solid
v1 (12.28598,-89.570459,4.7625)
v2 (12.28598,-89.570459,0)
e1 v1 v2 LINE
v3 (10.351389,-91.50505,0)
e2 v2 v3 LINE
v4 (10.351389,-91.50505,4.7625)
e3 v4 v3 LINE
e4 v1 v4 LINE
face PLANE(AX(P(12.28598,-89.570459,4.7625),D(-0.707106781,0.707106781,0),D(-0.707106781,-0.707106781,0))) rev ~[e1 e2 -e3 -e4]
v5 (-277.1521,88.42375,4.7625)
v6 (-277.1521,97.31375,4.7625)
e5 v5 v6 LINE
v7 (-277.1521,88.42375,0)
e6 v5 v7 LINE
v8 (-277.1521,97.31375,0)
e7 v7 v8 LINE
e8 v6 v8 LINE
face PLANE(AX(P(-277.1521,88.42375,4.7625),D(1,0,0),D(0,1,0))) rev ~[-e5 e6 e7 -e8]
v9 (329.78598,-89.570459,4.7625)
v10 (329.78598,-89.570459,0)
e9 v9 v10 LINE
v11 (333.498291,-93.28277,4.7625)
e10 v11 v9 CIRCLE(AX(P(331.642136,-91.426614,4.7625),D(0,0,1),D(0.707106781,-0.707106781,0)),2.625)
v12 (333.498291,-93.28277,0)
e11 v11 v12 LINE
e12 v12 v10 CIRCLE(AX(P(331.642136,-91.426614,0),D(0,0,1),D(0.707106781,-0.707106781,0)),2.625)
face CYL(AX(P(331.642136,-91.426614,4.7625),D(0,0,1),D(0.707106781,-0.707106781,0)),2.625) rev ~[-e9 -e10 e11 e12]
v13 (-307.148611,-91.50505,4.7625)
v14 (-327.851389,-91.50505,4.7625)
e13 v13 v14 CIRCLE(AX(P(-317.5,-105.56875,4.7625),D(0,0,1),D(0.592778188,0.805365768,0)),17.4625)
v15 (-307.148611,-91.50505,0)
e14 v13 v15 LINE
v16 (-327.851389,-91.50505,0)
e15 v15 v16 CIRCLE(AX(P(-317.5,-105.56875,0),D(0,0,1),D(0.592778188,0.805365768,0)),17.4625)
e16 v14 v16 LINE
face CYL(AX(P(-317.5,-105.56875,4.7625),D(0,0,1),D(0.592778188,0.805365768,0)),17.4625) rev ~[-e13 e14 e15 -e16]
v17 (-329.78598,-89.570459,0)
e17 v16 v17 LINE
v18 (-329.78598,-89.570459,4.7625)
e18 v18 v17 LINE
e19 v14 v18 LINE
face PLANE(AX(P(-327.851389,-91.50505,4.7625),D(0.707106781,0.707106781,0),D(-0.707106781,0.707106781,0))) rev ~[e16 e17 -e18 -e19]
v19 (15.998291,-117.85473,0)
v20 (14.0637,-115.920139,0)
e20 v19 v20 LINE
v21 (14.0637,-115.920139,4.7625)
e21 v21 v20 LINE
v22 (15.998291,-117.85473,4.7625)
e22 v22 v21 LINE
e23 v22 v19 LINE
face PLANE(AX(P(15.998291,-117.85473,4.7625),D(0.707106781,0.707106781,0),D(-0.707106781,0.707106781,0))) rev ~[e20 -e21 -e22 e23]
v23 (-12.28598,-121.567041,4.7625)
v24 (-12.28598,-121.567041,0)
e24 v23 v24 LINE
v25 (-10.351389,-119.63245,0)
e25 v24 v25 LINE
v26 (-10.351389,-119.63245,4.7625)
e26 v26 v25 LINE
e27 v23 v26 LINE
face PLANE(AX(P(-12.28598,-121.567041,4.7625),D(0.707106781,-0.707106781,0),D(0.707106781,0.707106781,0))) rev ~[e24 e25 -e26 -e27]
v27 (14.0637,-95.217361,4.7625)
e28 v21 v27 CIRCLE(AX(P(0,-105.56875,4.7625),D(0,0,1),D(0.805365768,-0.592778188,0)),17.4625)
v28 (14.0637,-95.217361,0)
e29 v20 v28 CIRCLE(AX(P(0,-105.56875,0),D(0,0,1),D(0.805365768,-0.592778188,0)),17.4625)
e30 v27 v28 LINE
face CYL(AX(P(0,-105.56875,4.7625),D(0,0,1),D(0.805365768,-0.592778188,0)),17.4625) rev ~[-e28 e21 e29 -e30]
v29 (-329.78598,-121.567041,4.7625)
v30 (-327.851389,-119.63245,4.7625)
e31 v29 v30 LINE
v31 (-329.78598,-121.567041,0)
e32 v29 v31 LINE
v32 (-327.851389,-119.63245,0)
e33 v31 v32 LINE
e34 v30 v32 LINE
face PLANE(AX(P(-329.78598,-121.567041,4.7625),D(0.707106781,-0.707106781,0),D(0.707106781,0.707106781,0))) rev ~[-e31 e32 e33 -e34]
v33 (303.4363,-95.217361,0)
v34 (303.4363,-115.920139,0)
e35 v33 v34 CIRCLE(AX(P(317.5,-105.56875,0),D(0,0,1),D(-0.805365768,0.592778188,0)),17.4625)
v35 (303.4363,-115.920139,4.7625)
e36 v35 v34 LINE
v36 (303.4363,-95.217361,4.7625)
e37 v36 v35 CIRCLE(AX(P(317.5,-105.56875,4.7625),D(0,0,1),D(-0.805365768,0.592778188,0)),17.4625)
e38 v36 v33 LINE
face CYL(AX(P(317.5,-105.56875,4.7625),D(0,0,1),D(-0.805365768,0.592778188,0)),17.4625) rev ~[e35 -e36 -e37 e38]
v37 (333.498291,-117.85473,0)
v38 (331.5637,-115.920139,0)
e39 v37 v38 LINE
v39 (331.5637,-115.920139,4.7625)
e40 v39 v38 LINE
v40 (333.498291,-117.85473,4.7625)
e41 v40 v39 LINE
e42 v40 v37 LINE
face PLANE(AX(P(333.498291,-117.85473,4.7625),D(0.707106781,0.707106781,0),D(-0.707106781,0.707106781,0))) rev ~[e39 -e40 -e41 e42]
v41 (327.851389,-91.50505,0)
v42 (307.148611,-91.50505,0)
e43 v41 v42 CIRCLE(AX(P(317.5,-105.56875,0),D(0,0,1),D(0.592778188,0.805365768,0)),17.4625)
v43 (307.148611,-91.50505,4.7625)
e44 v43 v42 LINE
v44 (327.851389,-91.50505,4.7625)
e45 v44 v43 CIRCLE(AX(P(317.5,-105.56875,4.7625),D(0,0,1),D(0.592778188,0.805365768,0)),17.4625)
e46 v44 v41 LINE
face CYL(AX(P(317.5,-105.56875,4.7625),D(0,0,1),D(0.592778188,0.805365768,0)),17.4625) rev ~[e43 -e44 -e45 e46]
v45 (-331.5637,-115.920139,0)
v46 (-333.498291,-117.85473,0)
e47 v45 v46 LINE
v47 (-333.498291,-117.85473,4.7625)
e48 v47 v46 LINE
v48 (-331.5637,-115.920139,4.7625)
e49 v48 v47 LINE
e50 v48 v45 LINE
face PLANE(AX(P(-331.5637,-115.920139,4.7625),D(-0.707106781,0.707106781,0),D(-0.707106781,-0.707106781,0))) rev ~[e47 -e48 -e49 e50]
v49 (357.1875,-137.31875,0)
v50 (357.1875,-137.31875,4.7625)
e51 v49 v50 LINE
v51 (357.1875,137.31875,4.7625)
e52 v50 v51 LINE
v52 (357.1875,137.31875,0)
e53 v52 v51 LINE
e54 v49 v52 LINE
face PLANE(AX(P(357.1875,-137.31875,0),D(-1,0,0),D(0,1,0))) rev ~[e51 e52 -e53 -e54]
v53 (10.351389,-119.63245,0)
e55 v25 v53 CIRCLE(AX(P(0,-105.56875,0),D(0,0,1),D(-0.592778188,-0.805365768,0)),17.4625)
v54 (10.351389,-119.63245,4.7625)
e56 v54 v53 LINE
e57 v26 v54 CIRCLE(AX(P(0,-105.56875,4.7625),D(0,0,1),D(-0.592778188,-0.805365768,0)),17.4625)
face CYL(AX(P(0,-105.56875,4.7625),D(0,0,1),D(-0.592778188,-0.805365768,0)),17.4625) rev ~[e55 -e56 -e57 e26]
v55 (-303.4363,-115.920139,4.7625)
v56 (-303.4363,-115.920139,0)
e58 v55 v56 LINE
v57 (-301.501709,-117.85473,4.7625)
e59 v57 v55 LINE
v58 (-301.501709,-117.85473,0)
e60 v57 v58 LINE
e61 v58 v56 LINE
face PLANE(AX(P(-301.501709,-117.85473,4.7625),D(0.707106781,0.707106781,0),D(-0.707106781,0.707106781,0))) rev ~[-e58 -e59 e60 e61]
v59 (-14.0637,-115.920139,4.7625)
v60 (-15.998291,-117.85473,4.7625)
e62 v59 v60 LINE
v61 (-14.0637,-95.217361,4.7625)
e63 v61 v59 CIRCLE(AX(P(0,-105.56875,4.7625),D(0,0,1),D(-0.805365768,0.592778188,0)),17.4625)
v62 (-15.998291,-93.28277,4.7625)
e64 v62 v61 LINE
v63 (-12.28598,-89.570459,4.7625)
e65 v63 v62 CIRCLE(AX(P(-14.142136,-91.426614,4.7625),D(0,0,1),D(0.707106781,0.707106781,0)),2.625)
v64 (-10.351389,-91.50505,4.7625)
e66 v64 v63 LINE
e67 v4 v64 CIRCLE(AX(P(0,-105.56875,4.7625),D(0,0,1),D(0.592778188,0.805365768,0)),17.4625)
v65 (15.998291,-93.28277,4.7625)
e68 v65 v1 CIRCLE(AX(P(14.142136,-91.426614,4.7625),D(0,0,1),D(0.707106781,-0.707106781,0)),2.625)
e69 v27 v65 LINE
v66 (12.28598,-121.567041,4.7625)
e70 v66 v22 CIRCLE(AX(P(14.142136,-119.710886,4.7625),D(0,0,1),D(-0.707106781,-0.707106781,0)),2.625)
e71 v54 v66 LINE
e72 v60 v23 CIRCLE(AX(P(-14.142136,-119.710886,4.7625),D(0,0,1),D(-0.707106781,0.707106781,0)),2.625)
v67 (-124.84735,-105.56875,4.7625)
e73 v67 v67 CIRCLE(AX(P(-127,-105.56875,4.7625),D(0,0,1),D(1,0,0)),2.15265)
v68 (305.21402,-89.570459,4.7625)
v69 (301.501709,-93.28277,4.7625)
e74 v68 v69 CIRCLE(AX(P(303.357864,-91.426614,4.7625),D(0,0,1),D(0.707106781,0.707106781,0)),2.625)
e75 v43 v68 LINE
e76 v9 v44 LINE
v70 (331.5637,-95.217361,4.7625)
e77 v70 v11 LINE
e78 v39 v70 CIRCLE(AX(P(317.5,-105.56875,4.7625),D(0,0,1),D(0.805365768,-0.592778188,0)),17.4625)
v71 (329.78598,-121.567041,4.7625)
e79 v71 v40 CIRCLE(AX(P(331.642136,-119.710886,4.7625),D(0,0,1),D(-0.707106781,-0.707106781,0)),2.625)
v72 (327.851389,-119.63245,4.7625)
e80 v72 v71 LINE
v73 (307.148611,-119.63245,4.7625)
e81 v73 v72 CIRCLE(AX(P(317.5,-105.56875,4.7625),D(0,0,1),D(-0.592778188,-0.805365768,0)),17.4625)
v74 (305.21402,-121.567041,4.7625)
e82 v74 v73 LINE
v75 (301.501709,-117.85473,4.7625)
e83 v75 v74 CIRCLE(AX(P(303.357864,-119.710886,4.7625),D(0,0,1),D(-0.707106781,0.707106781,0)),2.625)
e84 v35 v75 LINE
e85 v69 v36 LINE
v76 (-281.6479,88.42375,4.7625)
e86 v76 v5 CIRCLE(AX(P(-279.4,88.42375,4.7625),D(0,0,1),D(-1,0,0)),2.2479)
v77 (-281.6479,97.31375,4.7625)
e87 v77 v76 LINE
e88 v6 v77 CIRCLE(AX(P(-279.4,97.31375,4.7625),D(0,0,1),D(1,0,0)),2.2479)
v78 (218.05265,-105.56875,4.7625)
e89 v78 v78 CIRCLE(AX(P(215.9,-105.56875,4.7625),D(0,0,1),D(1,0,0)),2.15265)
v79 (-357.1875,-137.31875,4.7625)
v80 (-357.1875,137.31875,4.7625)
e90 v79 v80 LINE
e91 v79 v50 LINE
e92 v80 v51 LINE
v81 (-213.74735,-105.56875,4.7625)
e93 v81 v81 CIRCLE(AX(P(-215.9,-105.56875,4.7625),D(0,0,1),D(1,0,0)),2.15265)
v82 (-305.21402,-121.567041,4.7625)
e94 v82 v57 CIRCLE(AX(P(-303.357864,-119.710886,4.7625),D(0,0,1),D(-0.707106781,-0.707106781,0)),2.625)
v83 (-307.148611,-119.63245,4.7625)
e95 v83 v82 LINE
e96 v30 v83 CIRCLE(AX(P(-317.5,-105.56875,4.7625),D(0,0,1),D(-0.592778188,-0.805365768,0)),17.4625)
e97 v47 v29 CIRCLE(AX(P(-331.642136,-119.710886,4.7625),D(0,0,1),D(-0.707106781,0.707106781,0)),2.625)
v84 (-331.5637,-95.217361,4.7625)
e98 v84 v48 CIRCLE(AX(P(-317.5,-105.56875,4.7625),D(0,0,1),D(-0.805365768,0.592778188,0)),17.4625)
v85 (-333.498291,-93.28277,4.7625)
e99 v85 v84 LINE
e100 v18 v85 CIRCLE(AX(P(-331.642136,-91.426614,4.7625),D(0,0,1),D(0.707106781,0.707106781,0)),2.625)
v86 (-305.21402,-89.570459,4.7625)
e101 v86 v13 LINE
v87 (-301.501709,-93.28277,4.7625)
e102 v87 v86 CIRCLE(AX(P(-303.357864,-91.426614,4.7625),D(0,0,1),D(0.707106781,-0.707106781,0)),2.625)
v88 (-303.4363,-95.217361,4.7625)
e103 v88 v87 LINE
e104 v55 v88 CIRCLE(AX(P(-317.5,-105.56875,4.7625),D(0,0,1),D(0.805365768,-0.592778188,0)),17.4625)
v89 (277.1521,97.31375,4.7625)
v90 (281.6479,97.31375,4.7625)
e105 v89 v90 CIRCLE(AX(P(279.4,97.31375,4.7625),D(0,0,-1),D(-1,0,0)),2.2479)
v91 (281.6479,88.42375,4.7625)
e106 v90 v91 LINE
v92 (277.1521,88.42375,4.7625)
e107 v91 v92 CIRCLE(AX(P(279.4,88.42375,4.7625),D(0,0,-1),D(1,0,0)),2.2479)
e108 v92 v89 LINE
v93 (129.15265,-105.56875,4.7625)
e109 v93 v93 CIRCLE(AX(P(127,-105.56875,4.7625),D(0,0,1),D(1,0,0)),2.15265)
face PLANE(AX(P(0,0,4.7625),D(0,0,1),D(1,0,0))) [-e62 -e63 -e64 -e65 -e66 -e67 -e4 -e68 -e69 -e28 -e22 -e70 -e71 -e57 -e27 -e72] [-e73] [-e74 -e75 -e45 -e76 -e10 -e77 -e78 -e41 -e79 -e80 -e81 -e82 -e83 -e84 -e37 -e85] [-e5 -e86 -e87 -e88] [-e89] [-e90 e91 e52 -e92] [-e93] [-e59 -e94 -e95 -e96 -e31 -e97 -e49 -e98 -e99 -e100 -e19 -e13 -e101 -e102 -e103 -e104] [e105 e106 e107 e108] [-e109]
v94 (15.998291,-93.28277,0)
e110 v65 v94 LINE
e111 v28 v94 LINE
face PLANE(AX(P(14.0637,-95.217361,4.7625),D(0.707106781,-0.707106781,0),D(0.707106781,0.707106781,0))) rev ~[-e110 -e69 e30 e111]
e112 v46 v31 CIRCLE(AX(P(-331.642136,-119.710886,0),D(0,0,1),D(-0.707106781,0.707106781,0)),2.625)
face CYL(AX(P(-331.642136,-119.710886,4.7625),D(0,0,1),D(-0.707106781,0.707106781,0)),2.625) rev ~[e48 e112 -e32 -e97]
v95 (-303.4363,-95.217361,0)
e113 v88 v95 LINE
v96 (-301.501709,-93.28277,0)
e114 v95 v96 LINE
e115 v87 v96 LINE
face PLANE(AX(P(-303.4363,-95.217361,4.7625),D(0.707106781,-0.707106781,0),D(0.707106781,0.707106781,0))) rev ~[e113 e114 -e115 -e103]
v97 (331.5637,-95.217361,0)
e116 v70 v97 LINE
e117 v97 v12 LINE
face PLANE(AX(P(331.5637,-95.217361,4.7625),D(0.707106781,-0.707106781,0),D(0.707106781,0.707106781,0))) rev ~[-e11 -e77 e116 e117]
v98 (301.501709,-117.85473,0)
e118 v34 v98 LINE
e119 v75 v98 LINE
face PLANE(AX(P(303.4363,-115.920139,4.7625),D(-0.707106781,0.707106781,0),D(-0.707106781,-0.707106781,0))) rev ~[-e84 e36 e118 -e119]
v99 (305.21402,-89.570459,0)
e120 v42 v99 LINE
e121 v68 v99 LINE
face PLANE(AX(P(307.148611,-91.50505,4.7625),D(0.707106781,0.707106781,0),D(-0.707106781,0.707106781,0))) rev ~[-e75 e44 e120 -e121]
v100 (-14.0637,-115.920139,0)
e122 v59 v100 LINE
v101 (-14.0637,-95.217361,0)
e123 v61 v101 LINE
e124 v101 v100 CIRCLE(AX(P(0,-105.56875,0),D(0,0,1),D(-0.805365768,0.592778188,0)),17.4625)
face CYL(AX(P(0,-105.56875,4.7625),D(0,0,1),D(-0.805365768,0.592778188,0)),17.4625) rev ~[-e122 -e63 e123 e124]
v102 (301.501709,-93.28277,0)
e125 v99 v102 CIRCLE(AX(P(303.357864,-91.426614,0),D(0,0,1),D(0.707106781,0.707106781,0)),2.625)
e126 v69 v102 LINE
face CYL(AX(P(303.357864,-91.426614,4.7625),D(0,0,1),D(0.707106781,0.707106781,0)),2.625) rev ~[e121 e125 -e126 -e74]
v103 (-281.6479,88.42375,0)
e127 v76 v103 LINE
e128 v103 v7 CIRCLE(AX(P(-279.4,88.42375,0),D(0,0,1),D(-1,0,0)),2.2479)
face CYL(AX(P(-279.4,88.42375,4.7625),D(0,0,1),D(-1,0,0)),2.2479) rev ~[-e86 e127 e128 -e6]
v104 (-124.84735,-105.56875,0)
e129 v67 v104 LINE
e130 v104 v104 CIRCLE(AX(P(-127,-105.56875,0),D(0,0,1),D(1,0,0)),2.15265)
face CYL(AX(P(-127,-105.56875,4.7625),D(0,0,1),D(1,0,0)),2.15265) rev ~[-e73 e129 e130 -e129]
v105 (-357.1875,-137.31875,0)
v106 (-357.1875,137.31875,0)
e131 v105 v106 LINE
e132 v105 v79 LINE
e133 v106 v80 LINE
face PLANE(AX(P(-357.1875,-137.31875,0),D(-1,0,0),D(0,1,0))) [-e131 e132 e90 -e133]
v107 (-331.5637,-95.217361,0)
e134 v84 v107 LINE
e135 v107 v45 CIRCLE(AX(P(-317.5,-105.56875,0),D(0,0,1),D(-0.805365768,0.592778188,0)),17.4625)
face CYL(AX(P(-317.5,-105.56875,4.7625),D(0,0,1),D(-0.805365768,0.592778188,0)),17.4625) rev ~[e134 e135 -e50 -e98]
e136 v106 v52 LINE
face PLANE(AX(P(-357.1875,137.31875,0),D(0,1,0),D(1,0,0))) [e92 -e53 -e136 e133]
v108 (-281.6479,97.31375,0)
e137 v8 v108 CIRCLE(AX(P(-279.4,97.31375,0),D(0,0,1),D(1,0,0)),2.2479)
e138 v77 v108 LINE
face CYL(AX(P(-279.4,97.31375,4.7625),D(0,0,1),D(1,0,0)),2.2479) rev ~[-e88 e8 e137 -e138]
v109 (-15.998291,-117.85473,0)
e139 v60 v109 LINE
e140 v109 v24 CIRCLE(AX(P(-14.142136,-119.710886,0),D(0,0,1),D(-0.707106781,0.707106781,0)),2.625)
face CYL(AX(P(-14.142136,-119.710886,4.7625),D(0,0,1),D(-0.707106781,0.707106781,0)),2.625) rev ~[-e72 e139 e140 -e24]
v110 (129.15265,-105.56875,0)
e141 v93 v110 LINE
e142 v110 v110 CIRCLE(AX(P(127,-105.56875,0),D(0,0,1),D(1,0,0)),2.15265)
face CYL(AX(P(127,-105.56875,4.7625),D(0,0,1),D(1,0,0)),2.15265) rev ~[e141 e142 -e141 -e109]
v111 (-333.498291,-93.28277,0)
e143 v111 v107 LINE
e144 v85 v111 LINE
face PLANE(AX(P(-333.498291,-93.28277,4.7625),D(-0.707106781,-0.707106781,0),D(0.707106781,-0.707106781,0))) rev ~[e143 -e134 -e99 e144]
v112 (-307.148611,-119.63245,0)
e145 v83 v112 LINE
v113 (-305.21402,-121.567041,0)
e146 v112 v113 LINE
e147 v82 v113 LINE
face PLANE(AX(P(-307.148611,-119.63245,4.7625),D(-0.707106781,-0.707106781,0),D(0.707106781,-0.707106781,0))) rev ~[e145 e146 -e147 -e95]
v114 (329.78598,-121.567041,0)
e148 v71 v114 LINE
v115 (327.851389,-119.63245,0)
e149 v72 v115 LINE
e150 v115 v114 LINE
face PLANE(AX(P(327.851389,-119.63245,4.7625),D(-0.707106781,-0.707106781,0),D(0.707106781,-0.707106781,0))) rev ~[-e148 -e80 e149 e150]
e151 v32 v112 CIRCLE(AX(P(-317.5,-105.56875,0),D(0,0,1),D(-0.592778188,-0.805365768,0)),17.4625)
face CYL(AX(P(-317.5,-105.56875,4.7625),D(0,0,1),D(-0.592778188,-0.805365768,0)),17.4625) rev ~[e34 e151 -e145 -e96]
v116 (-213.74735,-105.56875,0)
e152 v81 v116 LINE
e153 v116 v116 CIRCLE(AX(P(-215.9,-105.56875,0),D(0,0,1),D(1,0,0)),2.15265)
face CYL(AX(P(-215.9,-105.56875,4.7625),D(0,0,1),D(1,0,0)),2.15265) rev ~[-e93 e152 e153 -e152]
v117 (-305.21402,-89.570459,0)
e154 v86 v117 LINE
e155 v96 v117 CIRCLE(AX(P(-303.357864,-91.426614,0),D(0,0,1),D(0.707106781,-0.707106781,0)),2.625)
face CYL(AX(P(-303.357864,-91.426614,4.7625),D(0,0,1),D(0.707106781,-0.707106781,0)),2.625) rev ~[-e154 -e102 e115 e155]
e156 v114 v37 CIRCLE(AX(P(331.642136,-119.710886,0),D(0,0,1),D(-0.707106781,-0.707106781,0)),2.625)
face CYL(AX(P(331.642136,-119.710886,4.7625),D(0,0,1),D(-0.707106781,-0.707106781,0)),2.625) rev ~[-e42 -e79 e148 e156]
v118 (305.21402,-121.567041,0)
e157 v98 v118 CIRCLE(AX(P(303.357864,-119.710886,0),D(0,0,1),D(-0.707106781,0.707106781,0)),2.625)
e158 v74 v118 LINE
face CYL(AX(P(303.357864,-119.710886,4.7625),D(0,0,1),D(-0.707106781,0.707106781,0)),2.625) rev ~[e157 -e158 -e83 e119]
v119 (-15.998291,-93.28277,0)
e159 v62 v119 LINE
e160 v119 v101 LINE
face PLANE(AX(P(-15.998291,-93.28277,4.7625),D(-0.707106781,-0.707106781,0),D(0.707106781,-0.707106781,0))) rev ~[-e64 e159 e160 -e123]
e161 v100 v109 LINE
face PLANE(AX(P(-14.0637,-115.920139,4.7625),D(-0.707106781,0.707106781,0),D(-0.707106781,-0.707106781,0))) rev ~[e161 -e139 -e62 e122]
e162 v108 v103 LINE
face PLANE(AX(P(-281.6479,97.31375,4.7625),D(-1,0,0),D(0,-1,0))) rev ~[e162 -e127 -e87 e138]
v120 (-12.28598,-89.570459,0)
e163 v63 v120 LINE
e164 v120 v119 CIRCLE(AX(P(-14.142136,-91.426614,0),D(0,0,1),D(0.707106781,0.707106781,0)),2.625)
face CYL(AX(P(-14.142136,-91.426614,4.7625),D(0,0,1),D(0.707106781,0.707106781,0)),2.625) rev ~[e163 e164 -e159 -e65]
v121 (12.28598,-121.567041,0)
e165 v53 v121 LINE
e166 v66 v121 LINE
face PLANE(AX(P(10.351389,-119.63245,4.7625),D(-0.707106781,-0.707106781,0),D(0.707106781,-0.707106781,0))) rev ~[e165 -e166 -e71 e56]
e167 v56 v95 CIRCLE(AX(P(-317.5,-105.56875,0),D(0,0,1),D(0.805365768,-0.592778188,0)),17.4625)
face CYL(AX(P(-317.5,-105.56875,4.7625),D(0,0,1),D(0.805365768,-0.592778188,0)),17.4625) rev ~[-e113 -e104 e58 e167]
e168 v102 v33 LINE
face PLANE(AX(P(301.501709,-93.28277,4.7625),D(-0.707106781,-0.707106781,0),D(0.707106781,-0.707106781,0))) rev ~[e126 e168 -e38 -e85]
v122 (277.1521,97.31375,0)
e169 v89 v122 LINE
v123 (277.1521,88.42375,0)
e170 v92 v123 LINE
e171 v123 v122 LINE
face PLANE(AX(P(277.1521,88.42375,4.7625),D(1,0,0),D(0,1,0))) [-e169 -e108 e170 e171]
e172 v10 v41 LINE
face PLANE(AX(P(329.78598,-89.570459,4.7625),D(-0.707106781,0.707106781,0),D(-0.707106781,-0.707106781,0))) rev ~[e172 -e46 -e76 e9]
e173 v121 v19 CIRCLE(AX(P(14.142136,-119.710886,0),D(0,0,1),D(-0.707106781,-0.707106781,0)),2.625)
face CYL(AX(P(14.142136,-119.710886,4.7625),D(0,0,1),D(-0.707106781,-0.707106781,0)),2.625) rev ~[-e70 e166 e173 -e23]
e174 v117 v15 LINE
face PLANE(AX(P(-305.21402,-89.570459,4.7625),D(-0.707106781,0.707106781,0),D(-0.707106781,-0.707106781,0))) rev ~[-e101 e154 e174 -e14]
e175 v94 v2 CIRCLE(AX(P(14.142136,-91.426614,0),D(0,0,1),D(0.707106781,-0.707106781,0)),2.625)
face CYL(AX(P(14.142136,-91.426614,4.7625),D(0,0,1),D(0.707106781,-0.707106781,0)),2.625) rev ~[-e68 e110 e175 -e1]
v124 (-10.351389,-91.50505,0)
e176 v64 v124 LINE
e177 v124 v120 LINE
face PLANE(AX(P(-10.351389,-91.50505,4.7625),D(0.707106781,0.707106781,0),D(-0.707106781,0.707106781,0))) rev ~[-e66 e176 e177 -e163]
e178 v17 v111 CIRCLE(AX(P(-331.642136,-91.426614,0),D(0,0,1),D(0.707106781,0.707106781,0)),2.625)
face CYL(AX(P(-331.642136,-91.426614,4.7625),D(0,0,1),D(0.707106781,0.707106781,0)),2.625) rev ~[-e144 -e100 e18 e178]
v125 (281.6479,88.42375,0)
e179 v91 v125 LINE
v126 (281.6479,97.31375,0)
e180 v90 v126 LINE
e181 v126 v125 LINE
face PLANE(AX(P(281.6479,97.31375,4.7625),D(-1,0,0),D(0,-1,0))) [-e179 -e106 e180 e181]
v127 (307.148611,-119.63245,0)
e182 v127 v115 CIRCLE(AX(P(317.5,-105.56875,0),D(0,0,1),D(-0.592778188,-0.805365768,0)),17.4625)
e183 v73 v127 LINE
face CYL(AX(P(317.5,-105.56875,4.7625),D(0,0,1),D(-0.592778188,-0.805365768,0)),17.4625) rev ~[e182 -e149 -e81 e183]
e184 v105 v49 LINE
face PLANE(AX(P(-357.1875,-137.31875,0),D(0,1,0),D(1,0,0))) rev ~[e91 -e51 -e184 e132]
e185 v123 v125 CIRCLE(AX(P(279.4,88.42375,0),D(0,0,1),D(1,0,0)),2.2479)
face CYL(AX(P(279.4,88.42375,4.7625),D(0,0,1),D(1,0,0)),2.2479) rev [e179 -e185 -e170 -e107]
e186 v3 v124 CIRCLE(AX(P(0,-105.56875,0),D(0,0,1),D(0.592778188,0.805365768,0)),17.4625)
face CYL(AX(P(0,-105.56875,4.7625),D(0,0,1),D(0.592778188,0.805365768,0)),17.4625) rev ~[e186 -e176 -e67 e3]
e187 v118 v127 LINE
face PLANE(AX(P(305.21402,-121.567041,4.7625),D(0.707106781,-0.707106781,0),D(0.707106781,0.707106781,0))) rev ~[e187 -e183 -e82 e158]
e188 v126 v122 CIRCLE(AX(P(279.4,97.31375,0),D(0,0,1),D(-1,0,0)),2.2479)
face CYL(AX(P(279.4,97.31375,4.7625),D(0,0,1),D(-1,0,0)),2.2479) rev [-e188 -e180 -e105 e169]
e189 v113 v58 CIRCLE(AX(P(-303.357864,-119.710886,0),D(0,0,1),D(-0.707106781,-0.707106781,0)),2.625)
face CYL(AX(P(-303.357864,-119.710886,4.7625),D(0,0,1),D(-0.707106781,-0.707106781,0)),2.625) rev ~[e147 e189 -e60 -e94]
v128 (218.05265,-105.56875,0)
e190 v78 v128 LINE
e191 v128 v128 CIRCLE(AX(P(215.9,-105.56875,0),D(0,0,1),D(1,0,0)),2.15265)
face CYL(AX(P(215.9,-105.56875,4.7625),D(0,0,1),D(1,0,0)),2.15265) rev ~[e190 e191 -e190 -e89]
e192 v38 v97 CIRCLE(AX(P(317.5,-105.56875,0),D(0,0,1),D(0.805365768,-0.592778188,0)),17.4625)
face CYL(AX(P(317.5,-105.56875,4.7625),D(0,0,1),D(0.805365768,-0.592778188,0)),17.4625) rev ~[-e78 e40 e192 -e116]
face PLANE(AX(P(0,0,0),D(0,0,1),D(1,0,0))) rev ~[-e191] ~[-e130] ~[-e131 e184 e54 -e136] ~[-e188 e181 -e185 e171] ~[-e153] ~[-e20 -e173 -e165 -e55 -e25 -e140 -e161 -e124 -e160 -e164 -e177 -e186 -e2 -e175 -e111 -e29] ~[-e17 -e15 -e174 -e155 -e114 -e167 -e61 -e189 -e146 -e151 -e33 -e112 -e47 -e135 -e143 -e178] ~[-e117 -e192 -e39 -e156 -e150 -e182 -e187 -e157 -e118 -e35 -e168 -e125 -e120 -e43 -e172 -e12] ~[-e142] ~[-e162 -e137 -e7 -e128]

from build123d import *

# Parameters (mm, degrees)
SKETCH1_W           = 714.375
SKETCH1_H           = 274.6375
BOSS_EXTRUDE1_DEPTH = 4.7625
CUT_EXTRUDE1_DEPTH  = 5.7625
CUT_EXTRUDE3_DEPTH  = 5.7625
CUT_EXTRUDE4_REACH  = 6.763
SKETCH5_R           = 2.15265


with BuildPart() as part:
    # Sketch1 → Boss-Extrude1 (new body)
    with BuildSketch(Plane.XY):
        Rectangle(SKETCH1_W, SKETCH1_H)
    extrude(amount=BOSS_EXTRUDE1_DEPTH)

    # Sketch2 → Cut-Extrude1 (cut, through all)
    with BuildSketch(Plane.XY.offset(4.7625)):
        with BuildLine():
            Line((12.285980323, -89.570459076), (10.351389114, -91.505050285))
            ThreePointArc((10.351389114, -91.505050285), (0, -88.10625), (-10.351389114, -91.505050285))
            Line((-10.351389114, -91.505050285), (-12.285980323, -89.570459076))
            ThreePointArc((-12.285980323, -89.570459076), (-15.998290924, -89.570459076), (-15.998290924, -93.282769677))
            Line((-15.998290924, -93.282769677), (-14.063699715, -95.217360886))
            ThreePointArc((-14.063699715, -95.217360886), (-17.4625, -105.56875), (-14.063699715, -115.920139114))
            Line((-14.063699715, -115.920139114), (-15.998290924, -117.854730323))
            ThreePointArc((-15.998290924, -117.854730323), (-15.998290924, -121.567040924), (-12.285980323, -121.567040924))
            Line((-12.285980323, -121.567040924), (-10.351389114, -119.632449715))
            ThreePointArc((-10.351389114, -119.632449715), (0, -123.03125), (10.351389114, -119.632449715))
            Line((10.351389114, -119.632449715), (12.285980323, -121.567040924))
            ThreePointArc((12.285980323, -121.567040924), (15.998290924, -121.567040924), (15.998290924, -117.854730323))
            Line((15.998290924, -117.854730323), (14.063699715, -115.920139114))
            ThreePointArc((14.063699715, -115.920139114), (17.4625, -105.56875), (14.063699715, -95.217360886))
            Line((14.063699715, -95.217360886), (15.998290924, -93.282769677))
            ThreePointArc((15.998290924, -93.282769677), (15.998290924, -89.570459076), (12.285980323, -89.570459076))
        make_face()
        with BuildLine():
            Line((-305.214019677, -89.570459076), (-307.148610886, -91.505050285))
            ThreePointArc((-307.148610886, -91.505050285), (-317.5, -88.10625), (-327.851389114, -91.505050285))
            Line((-327.851389114, -91.505050285), (-329.785980323, -89.570459076))
            ThreePointArc((-329.785980323, -89.570459076), (-333.498290924, -89.570459076), (-333.498290924, -93.282769677))
            Line((-333.498290924, -93.282769677), (-331.563699715, -95.217360886))
            ThreePointArc((-331.563699715, -95.217360886), (-334.9625, -105.56875), (-331.563699715, -115.920139114))
            Line((-331.563699715, -115.920139114), (-333.498290924, -117.854730323))
            ThreePointArc((-333.498290924, -117.854730323), (-333.498290924, -121.567040924), (-329.785980323, -121.567040924))
            Line((-329.785980323, -121.567040924), (-327.851389114, -119.632449715))
            ThreePointArc((-327.851389114, -119.632449715), (-317.5, -123.03125), (-307.148610886, -119.632449715))
            Line((-307.148610886, -119.632449715), (-305.214019677, -121.567040924))
            ThreePointArc((-305.214019677, -121.567040924), (-301.501709076, -121.567040924), (-301.501709076, -117.854730323))
            Line((-301.501709076, -117.854730323), (-303.436300285, -115.920139114))
            ThreePointArc((-303.436300285, -115.920139114), (-300.0375, -105.56875), (-303.436300285, -95.217360886))
            Line((-303.436300285, -95.217360886), (-301.501709076, -93.282769677))
            ThreePointArc((-301.501709076, -93.282769677), (-301.501709076, -89.570459076), (-305.214019677, -89.570459076))
        make_face()
        with BuildLine():
            Line((329.785980323, -89.570459076), (327.851389114, -91.505050285))
            ThreePointArc((327.851389114, -91.505050285), (317.5, -88.10625), (307.148610886, -91.505050285))
            Line((307.148610886, -91.505050285), (305.214019677, -89.570459076))
            ThreePointArc((305.214019677, -89.570459076), (301.501709076, -89.570459076), (301.501709076, -93.282769677))
            Line((301.501709076, -93.282769677), (303.436300285, -95.217360886))
            ThreePointArc((303.436300285, -95.217360886), (300.0375, -105.56875), (303.436300285, -115.920139114))
            Line((303.436300285, -115.920139114), (301.501709076, -117.854730323))
            ThreePointArc((301.501709076, -117.854730323), (301.501709076, -121.567040924), (305.214019677, -121.567040924))
            Line((305.214019677, -121.567040924), (307.148610886, -119.632449715))
            ThreePointArc((307.148610886, -119.632449715), (317.5, -123.03125), (327.851389114, -119.632449715))
            Line((327.851389114, -119.632449715), (329.785980323, -121.567040924))
            ThreePointArc((329.785980323, -121.567040924), (333.498290924, -121.567040924), (333.498290924, -117.854730323))
            Line((333.498290924, -117.854730323), (331.563699715, -115.920139114))
            ThreePointArc((331.563699715, -115.920139114), (334.9625, -105.56875), (331.563699715, -95.217360886))
            Line((331.563699715, -95.217360886), (333.498290924, -93.282769677))
            ThreePointArc((333.498290924, -93.282769677), (333.498290924, -89.570459076), (329.785980323, -89.570459076))
        make_face()
    extrude(amount=-CUT_EXTRUDE1_DEPTH, mode=Mode.SUBTRACT)

    # Sketch4 → Cut-Extrude3 (cut, through all)
    with BuildSketch(Plane.XY.offset(4.7625)):
        with BuildLine():
            Line((277.1521, 88.42375), (277.1521, 97.31375))
            ThreePointArc((277.1521, 97.31375), (279.4, 99.56165), (281.6479, 97.31375))
            Line((281.6479, 97.31375), (281.6479, 88.42375))
            ThreePointArc((281.6479, 88.42375), (279.4, 86.17585), (277.1521, 88.42375))
        make_face()
        with BuildLine():
            Line((-277.1521, 88.42375), (-277.1521, 97.31375))
            ThreePointArc((-277.1521, 97.31375), (-279.4, 99.56165), (-281.6479, 97.31375))
            Line((-281.6479, 97.31375), (-281.6479, 88.42375))
            ThreePointArc((-281.6479, 88.42375), (-279.4, 86.17585), (-277.1521, 88.42375))
        make_face()
    extrude(amount=-CUT_EXTRUDE3_DEPTH, mode=Mode.SUBTRACT)

    # Sketch5 → Cut-Extrude4 (cut, up to next)
    with BuildSketch(Plane.XY.offset(4.7625), mode=Mode.PRIVATE) as cut_extrude4_sk1:
        with Locations((-127, -105.56875)):
            Circle(SKETCH5_R)
    cut_extrude4_tool1 = extrude(cut_extrude4_sk1.sketch, amount=-CUT_EXTRUDE4_REACH, mode=Mode.PRIVATE) & part.part
    add(cut_extrude4_tool1.solids().sort_by_distance((-127, -105.56875, 4.7625))[0], mode=Mode.SUBTRACT)
    # Sketch5 → Cut-Extrude4 (cut, up to next)
    with BuildSketch(Plane.XY.offset(4.7625), mode=Mode.PRIVATE) as cut_extrude4_sk2:
        with Locations((-215.9, -105.56875)):
            Circle(SKETCH5_R)
    cut_extrude4_tool2 = extrude(cut_extrude4_sk2.sketch, amount=-CUT_EXTRUDE4_REACH, mode=Mode.PRIVATE) & part.part
    add(cut_extrude4_tool2.solids().sort_by_distance((-215.9, -105.56875, 4.7625))[0], mode=Mode.SUBTRACT)
    # Sketch5 → Cut-Extrude4 (cut, up to next)
    with BuildSketch(Plane.XY.offset(4.7625), mode=Mode.PRIVATE) as cut_extrude4_sk3:
        with Locations((215.9, -105.56875)):
            Circle(SKETCH5_R)
    cut_extrude4_tool3 = extrude(cut_extrude4_sk3.sketch, amount=-CUT_EXTRUDE4_REACH, mode=Mode.PRIVATE) & part.part
    add(cut_extrude4_tool3.solids().sort_by_distance((215.9, -105.56875, 4.7625))[0], mode=Mode.SUBTRACT)
    # Sketch5 → Cut-Extrude4 (cut, up to next)
    with BuildSketch(Plane.XY.offset(4.7625), mode=Mode.PRIVATE) as cut_extrude4_sk4:
        with Locations((127, -105.56875)):
            Circle(SKETCH5_R)
    cut_extrude4_tool4 = extrude(cut_extrude4_sk4.sketch, amount=-CUT_EXTRUDE4_REACH, mode=Mode.PRIVATE) & part.part
    add(cut_extrude4_tool4.solids().sort_by_distance((127, -105.56875, 4.7625))[0], mode=Mode.SUBTRACT)


solid = part.part
